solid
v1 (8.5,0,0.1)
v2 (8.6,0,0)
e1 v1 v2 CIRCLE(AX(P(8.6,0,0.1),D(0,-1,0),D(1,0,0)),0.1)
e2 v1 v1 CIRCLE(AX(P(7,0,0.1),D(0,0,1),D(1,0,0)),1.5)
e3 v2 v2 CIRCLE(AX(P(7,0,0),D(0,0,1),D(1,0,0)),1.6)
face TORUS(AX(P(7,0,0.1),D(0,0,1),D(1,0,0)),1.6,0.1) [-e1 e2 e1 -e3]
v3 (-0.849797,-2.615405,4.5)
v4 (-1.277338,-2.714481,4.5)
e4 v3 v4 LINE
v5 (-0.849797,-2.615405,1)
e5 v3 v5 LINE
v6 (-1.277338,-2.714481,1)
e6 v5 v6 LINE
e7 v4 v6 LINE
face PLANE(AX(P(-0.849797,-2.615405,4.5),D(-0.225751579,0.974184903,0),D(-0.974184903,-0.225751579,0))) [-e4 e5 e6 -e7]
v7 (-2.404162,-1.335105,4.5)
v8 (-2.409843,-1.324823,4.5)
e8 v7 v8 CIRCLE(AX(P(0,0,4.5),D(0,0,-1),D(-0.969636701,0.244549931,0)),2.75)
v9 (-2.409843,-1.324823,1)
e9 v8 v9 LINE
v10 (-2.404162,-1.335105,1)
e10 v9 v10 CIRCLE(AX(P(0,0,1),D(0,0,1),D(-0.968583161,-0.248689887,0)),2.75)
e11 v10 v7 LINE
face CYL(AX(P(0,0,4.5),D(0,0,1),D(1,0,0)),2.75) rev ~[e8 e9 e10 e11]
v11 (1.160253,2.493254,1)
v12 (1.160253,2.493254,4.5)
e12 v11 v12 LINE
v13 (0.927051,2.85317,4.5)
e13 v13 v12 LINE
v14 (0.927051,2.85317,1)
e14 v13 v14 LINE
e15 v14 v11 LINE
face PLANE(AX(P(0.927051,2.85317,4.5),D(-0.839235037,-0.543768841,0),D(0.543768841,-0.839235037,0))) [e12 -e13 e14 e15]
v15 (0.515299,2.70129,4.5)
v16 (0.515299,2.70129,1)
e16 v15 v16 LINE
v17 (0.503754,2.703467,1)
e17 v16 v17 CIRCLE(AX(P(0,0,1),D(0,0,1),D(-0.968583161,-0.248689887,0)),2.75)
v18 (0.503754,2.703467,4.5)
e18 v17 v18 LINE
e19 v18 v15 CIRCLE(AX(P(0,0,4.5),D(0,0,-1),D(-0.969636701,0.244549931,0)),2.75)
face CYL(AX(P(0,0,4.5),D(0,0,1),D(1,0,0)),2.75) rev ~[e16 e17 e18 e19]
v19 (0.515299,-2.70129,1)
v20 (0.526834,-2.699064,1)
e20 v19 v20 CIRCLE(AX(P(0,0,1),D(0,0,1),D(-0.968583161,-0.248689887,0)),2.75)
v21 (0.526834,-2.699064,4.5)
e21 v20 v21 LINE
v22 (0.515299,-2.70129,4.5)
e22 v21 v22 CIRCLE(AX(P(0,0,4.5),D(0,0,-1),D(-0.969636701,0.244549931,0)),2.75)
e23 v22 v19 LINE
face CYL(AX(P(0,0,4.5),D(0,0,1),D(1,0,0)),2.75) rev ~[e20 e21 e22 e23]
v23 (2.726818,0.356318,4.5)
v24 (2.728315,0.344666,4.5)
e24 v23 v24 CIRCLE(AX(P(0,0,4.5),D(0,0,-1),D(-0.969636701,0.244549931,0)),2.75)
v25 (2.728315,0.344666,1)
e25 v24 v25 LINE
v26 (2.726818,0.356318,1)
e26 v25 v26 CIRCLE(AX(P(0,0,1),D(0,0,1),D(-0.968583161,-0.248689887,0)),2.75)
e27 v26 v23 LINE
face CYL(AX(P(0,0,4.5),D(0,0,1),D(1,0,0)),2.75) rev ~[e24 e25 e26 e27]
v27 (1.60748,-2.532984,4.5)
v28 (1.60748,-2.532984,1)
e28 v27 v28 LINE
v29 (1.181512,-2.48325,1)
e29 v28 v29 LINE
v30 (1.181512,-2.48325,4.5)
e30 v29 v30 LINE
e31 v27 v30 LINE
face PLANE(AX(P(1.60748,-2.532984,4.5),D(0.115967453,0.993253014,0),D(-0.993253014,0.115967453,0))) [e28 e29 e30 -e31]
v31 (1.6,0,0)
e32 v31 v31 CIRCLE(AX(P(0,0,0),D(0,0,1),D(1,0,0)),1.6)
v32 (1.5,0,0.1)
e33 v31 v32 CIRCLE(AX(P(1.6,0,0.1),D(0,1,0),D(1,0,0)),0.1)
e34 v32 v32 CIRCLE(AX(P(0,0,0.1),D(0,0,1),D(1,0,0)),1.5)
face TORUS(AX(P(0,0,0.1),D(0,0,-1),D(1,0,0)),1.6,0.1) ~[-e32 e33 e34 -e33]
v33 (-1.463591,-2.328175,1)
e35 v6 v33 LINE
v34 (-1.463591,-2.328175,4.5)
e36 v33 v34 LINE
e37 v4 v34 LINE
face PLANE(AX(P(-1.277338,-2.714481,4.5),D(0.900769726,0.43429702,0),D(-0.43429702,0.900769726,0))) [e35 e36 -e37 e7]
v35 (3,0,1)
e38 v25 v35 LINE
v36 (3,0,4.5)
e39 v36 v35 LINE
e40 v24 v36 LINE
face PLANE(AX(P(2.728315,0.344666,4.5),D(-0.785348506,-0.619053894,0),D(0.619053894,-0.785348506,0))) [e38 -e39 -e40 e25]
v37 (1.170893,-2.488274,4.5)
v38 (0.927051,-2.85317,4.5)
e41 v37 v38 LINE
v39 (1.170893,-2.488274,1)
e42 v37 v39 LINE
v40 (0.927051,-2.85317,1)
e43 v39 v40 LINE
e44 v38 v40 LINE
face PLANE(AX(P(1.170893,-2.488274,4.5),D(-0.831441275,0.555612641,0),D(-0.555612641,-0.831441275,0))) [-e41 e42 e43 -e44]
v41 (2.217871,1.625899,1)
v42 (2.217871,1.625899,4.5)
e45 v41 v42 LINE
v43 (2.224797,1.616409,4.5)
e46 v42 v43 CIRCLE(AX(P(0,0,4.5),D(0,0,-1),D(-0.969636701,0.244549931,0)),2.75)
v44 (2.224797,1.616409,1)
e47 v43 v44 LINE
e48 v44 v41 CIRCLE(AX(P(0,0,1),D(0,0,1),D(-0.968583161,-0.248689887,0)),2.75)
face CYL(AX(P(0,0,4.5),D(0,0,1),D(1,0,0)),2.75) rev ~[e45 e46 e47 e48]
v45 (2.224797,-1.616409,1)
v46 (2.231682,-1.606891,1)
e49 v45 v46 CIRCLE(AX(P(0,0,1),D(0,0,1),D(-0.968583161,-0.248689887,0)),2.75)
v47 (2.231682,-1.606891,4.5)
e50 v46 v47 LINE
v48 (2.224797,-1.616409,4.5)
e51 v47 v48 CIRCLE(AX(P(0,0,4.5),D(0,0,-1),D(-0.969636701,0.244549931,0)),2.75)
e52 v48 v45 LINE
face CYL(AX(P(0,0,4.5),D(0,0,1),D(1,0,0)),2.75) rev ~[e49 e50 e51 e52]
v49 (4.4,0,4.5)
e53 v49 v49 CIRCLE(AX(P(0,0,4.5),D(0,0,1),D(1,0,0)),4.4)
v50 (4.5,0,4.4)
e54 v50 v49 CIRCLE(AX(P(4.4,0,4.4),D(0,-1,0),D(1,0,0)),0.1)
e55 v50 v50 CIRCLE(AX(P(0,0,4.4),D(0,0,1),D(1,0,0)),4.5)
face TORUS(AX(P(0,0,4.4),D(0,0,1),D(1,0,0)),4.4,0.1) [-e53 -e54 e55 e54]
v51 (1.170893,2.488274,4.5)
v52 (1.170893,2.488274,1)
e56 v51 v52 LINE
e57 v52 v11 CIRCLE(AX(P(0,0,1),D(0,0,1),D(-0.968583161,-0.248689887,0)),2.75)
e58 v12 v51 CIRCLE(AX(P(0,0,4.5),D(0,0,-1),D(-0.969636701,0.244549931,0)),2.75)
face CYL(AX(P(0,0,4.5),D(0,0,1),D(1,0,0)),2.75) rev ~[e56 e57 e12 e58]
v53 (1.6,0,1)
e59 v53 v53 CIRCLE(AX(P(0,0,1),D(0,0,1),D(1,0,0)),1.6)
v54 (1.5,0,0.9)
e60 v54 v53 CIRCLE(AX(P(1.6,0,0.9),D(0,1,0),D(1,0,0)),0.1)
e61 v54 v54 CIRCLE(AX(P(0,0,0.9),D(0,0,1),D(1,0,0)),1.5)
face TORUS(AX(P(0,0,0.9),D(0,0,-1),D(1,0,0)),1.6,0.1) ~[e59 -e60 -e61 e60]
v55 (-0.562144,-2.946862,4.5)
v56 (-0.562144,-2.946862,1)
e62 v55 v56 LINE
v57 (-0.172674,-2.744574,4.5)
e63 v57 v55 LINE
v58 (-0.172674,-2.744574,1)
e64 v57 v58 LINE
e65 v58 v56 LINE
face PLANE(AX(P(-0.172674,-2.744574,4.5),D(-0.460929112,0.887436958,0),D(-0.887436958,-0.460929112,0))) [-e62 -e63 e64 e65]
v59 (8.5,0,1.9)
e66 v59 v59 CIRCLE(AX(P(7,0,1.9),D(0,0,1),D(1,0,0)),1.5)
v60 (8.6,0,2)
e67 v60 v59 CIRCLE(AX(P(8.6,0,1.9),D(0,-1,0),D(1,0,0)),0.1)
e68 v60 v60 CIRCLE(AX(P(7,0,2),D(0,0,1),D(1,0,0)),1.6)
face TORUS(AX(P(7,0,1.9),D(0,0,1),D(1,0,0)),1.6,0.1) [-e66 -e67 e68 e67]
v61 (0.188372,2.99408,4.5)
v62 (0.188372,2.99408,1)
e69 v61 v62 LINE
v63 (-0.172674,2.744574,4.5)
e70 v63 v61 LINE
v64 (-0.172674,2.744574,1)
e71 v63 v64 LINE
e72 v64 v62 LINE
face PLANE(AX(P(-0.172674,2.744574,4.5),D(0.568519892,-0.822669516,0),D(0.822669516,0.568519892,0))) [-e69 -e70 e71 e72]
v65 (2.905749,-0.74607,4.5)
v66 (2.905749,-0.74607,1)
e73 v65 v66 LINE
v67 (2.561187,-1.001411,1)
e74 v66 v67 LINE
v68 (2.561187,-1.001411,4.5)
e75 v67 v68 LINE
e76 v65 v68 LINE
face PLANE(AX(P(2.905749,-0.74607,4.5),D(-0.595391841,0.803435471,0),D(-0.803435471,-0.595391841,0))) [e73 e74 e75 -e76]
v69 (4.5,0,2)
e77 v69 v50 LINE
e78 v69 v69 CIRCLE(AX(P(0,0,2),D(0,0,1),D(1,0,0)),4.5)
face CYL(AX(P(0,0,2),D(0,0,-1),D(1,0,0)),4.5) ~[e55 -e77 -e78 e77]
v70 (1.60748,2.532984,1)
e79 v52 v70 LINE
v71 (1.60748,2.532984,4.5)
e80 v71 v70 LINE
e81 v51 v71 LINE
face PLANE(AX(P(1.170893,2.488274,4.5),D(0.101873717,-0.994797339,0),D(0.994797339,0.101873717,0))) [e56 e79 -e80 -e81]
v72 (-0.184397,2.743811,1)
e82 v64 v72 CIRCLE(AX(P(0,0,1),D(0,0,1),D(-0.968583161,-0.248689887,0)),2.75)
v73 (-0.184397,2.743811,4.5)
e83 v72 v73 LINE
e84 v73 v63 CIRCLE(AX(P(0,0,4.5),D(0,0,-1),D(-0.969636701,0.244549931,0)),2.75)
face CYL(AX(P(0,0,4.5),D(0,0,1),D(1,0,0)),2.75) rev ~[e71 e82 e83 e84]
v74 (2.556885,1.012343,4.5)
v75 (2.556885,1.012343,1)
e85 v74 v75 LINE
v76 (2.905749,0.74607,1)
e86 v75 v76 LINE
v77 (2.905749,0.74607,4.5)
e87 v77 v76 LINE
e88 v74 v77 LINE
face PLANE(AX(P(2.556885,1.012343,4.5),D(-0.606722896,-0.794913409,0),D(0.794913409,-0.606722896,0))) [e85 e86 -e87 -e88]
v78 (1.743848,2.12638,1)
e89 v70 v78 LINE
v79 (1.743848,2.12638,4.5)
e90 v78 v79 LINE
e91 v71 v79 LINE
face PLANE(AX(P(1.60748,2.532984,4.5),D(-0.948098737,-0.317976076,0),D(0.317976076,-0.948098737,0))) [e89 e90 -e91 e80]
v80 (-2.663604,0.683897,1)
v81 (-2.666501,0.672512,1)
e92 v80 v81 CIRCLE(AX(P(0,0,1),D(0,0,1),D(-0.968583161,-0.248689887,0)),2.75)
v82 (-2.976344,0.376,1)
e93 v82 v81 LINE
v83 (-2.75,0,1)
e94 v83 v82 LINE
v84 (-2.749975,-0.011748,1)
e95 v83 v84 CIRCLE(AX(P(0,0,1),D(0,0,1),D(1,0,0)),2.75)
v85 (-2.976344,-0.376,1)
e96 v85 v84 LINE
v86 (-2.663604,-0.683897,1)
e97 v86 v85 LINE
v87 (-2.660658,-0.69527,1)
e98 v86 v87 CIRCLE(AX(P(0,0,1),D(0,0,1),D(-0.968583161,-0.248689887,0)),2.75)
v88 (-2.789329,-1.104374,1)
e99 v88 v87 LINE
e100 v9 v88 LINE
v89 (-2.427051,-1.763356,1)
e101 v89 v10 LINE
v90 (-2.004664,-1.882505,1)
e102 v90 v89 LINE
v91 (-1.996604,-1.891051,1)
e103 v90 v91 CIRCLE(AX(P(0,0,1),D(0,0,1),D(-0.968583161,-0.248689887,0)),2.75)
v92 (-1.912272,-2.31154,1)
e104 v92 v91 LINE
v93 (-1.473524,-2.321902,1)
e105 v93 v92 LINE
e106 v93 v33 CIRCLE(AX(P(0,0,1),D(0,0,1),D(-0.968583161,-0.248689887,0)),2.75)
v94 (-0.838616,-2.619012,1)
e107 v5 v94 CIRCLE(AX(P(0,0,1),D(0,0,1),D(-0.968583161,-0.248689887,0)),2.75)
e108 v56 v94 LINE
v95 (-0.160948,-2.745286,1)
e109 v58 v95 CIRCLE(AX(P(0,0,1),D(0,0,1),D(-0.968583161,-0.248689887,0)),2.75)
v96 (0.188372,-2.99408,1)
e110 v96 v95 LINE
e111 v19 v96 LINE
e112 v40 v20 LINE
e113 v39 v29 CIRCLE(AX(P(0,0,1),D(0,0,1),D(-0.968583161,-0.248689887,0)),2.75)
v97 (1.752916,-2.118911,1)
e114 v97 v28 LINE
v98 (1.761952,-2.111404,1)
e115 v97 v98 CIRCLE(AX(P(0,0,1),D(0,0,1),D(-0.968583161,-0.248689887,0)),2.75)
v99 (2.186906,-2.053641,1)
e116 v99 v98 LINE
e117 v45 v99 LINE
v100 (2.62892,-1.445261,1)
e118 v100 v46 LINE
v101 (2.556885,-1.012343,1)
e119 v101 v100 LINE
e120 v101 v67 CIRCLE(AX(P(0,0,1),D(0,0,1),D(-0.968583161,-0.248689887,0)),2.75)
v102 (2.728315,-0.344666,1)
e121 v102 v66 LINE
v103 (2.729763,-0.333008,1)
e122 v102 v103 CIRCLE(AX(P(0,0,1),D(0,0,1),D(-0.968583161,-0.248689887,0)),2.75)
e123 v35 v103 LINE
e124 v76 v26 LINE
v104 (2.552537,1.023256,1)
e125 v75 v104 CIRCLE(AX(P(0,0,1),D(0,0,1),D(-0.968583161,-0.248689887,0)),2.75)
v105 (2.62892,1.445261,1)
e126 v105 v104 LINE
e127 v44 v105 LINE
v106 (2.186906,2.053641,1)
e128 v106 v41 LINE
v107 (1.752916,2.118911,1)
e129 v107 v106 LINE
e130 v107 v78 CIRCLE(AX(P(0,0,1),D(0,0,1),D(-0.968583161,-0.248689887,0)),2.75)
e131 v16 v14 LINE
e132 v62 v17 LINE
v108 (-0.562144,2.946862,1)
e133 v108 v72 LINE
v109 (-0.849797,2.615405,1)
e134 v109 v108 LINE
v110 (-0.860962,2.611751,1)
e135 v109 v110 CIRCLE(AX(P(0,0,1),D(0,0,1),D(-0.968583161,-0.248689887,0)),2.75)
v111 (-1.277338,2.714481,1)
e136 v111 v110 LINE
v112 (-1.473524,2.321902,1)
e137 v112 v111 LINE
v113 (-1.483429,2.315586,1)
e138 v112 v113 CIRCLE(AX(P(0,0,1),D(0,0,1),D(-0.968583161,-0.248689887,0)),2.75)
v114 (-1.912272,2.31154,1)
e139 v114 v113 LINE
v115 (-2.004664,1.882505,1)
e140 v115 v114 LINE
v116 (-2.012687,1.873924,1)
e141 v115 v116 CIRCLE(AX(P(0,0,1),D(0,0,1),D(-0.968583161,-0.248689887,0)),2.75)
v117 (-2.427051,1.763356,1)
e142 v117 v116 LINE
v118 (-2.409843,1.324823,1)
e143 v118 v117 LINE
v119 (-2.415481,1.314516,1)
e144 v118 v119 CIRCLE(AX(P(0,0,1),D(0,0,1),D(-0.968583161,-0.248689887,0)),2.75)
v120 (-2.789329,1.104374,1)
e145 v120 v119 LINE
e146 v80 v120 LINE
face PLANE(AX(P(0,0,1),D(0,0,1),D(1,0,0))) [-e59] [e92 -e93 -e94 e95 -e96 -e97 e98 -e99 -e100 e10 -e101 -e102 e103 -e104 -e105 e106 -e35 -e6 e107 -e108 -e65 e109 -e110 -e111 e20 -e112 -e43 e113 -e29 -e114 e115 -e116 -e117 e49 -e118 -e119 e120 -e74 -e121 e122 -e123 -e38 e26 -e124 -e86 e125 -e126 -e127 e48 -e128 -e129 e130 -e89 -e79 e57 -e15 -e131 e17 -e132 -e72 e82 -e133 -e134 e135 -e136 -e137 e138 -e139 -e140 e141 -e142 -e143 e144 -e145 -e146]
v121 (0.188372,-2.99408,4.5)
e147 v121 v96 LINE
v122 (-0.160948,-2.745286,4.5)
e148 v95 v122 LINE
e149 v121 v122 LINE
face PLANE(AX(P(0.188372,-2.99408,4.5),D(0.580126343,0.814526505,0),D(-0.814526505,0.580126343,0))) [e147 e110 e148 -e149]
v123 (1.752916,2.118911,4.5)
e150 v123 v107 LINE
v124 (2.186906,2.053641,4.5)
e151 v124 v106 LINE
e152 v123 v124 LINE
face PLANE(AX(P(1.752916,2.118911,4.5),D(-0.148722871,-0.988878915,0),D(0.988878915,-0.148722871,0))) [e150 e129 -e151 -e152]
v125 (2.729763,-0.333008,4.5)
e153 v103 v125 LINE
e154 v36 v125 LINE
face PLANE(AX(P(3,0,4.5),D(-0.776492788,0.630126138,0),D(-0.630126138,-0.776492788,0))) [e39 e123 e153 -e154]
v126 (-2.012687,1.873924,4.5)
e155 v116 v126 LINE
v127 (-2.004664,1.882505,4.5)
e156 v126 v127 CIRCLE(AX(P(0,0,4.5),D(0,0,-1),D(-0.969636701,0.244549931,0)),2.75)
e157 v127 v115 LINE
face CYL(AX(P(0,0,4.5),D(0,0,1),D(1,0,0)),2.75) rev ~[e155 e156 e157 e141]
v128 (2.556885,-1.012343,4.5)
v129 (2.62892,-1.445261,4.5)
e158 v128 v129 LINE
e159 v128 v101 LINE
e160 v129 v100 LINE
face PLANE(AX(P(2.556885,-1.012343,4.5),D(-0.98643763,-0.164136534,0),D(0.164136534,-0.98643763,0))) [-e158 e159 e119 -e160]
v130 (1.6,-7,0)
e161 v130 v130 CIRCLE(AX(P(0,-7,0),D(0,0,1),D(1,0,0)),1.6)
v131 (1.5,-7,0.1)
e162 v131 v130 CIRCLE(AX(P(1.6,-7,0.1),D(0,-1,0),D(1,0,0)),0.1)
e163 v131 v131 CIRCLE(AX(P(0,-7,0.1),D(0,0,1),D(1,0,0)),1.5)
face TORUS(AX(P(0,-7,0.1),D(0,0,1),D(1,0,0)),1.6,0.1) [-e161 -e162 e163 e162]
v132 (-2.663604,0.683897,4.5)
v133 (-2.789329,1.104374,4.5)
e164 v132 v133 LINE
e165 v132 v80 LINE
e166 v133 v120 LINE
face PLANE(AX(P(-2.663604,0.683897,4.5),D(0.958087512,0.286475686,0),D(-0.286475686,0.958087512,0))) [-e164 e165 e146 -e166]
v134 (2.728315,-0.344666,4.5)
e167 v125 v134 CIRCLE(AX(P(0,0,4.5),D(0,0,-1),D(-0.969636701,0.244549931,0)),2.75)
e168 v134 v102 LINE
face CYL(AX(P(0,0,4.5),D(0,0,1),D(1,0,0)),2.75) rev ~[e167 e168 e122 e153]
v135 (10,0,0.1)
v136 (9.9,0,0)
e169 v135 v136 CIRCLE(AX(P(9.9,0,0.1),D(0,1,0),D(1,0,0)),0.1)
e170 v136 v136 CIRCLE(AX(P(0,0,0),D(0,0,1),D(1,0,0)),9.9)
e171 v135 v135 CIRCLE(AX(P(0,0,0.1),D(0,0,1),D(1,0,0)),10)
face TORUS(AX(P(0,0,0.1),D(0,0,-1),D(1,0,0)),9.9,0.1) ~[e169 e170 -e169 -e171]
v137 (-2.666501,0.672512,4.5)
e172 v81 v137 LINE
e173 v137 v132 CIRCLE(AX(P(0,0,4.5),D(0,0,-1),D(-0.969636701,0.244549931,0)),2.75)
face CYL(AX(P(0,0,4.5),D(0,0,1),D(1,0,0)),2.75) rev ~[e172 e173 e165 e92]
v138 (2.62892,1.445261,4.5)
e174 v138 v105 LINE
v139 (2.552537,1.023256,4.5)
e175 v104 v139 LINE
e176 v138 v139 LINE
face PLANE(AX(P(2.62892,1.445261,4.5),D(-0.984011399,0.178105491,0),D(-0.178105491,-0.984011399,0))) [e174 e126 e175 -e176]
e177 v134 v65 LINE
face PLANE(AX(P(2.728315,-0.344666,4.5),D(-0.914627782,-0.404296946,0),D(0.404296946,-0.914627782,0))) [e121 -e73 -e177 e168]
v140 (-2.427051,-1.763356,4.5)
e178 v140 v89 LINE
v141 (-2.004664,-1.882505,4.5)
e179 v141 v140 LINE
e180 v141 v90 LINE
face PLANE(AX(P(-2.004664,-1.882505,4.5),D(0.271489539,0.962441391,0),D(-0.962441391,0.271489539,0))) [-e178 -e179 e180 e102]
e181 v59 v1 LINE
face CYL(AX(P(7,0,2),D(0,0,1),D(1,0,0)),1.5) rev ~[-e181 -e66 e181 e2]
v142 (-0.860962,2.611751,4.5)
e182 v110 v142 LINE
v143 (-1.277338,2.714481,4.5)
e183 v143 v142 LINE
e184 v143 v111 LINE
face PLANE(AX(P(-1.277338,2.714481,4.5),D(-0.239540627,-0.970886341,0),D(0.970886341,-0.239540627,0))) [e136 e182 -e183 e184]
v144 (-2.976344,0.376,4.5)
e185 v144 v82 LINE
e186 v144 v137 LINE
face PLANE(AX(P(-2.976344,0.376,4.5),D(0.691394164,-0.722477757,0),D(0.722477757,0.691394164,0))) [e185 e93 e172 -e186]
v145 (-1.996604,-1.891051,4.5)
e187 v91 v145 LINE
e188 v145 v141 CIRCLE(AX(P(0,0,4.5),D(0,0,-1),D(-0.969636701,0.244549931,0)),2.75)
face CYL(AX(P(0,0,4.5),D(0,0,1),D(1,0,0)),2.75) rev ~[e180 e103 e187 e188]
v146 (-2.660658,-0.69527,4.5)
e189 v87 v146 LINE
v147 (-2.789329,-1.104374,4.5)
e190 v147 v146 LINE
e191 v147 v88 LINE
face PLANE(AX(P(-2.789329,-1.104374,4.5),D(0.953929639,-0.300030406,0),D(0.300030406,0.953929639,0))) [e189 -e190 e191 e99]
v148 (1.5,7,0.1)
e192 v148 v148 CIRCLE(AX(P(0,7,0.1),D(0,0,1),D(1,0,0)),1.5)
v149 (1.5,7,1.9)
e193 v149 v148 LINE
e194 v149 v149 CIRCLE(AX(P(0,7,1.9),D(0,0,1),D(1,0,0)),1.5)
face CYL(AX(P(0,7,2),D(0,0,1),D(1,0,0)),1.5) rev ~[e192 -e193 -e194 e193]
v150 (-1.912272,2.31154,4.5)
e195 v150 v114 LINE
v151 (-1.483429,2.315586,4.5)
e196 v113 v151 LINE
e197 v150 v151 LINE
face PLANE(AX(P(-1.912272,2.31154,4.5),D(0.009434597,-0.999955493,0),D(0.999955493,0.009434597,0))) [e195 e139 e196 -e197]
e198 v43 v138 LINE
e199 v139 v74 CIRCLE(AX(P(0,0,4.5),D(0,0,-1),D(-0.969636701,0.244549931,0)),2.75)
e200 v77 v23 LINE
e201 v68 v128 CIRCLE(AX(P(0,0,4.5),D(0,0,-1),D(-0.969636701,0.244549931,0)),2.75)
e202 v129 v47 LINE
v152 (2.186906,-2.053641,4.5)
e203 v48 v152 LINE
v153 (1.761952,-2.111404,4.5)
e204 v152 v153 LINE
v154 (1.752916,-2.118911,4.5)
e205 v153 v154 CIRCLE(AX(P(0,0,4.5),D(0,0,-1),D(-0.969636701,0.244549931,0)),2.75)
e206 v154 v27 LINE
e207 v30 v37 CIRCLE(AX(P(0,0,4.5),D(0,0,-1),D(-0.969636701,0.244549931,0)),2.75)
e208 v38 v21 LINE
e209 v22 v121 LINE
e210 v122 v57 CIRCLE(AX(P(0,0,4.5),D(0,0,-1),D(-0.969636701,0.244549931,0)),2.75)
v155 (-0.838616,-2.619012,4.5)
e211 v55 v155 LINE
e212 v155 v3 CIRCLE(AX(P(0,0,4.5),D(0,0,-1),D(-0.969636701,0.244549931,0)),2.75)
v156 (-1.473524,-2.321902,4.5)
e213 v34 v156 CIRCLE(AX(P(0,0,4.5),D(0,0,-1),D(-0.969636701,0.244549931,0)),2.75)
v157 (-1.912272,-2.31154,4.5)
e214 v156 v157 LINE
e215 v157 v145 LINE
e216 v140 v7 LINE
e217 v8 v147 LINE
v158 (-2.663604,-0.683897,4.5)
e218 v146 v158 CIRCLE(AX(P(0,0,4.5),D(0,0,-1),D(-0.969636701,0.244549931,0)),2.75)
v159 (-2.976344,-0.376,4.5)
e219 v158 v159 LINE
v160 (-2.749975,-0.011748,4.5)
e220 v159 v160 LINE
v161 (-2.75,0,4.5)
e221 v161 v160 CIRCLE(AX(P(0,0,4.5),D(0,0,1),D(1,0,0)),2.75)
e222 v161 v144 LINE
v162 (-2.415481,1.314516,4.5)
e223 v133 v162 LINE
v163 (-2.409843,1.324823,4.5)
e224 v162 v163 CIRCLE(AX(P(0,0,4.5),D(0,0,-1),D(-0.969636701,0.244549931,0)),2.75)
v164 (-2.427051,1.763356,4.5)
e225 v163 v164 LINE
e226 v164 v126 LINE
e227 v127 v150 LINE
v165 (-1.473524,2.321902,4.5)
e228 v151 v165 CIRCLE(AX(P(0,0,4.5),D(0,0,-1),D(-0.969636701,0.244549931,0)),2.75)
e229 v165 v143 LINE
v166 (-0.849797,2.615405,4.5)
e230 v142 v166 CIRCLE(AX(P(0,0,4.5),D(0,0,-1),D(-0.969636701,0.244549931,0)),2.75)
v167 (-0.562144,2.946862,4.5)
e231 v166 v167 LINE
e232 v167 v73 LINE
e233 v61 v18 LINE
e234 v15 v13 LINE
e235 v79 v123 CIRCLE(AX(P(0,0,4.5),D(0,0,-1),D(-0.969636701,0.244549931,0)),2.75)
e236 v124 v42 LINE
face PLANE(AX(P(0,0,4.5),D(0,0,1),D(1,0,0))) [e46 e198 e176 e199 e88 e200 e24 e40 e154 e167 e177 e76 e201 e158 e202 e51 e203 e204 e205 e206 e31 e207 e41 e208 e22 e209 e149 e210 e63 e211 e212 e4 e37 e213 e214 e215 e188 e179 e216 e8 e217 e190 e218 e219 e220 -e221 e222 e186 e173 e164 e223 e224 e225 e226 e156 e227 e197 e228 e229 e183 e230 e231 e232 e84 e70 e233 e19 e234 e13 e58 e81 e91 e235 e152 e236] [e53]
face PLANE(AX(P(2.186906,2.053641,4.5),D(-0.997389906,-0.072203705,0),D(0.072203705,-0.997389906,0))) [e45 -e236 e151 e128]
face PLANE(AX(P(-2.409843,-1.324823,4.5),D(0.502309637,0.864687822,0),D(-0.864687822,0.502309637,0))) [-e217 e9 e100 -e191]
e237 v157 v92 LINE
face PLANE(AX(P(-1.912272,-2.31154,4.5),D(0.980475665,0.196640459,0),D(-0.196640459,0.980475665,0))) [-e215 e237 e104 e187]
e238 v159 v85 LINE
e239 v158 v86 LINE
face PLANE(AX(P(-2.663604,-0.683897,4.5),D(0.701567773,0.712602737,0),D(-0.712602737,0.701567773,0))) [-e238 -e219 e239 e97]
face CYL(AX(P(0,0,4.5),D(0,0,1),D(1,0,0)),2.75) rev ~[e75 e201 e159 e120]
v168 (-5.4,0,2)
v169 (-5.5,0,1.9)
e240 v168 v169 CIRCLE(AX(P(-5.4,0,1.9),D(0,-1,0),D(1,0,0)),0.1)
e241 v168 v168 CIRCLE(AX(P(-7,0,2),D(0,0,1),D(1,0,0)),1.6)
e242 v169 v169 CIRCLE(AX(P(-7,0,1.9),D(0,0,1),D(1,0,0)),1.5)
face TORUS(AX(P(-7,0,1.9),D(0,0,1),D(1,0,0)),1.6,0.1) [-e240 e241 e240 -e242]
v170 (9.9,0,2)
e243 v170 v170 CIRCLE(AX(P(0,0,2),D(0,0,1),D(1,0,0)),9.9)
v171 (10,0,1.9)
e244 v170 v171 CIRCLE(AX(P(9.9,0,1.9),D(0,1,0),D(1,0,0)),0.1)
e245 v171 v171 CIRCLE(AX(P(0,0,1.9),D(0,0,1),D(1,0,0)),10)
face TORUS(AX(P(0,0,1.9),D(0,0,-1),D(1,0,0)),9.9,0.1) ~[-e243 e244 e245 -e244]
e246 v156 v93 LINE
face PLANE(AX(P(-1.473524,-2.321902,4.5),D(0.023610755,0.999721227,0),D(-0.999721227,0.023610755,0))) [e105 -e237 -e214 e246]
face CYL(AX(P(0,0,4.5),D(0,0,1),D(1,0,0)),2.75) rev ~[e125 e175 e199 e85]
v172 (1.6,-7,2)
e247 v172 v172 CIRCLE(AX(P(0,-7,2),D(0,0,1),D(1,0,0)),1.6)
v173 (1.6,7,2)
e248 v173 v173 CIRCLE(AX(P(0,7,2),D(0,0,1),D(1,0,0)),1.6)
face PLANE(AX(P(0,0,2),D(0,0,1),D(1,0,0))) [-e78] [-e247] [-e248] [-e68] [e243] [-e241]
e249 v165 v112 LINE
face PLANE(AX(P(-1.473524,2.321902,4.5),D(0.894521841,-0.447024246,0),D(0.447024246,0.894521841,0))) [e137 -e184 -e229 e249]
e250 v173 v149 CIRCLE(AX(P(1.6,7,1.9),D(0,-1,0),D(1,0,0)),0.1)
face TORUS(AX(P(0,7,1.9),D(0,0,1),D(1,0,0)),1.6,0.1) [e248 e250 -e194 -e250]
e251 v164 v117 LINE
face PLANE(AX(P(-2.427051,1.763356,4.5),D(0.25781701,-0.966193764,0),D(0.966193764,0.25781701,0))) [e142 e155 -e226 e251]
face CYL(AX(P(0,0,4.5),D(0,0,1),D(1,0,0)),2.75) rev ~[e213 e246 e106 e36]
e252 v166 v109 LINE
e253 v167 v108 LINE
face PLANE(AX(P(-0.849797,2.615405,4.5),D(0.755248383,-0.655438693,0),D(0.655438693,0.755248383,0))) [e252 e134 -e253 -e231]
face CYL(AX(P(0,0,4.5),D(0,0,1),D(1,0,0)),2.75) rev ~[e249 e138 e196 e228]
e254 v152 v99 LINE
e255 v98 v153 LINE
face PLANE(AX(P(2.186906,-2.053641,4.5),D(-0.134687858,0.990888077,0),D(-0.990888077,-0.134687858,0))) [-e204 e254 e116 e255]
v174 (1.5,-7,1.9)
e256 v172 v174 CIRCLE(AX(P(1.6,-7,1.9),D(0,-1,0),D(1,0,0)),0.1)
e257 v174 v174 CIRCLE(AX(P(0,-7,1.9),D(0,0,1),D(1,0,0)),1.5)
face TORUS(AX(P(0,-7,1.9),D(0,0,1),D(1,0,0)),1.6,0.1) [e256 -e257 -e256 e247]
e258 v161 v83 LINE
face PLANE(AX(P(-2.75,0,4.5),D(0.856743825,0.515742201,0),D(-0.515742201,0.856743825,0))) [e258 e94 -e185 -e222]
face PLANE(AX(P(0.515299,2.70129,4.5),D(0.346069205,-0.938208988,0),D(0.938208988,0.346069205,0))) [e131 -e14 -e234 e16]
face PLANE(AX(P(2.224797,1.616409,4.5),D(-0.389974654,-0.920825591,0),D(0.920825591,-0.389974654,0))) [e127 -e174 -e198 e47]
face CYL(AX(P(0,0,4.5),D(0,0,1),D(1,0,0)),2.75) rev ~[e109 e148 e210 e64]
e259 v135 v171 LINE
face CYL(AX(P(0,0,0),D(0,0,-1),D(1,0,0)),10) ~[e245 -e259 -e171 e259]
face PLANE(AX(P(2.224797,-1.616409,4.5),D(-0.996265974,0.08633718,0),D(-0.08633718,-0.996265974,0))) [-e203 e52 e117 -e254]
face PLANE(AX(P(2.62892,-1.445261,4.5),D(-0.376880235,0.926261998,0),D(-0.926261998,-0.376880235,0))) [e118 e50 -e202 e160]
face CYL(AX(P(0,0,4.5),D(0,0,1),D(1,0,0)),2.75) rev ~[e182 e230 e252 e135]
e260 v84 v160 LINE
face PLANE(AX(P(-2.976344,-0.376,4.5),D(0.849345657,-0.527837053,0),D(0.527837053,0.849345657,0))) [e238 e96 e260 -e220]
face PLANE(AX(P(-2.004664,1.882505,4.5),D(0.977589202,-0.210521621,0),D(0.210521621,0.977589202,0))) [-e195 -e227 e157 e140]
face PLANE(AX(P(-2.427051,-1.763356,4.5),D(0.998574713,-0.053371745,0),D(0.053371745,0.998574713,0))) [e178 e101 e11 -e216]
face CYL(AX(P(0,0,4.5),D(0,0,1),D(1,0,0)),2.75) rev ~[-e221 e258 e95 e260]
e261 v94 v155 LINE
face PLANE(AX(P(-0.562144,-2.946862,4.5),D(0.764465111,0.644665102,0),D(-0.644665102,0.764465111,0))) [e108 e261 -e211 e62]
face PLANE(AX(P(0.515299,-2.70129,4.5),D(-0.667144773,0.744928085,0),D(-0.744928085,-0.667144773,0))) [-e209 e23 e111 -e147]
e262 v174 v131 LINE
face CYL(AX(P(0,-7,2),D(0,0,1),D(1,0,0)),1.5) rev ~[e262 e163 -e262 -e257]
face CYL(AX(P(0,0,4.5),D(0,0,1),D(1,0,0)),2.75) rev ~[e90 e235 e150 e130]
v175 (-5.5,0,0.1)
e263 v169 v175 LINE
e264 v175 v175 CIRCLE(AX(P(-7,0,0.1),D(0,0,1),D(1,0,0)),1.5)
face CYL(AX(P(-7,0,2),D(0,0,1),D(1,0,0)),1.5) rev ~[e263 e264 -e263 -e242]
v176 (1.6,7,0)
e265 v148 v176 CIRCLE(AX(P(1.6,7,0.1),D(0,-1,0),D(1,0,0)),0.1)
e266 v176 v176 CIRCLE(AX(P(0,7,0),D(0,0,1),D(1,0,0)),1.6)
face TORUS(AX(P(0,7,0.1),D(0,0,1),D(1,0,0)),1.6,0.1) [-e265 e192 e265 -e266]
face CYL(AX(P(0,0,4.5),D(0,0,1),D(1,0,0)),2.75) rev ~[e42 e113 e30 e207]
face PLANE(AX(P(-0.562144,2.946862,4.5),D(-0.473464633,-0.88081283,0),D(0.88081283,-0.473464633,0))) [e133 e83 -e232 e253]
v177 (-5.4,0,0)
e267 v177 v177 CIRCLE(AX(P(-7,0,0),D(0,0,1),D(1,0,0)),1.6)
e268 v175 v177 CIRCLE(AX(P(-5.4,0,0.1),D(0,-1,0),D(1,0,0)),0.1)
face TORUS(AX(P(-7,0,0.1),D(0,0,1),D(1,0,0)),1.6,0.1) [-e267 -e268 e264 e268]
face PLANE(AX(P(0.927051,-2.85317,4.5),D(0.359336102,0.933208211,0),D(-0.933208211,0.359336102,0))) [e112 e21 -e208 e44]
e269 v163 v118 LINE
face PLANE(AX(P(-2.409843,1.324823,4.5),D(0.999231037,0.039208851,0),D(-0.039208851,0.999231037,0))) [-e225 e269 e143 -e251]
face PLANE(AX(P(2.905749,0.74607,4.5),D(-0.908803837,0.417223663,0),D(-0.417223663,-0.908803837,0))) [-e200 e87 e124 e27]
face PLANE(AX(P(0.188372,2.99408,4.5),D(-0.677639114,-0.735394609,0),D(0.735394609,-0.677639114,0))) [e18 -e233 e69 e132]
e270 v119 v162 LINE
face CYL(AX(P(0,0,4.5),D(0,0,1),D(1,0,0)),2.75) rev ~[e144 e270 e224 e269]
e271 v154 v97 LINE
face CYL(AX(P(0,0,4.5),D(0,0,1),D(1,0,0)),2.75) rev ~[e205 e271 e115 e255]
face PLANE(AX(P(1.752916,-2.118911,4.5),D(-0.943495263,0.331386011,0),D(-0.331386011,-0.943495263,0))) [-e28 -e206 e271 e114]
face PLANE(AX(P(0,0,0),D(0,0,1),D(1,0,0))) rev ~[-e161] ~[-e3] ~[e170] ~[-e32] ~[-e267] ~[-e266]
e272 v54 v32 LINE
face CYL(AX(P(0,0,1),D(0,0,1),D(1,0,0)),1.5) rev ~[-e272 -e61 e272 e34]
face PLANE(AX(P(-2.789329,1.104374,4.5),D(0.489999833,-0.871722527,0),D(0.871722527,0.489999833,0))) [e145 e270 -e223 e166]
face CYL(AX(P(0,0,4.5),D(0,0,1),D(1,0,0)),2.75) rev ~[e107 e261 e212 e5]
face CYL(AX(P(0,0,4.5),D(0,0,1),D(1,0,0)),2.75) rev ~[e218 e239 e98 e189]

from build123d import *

# Parameters (mm, degrees)
SKETCH1_R           = 10
BOSS_EXTRUDE1_DEPTH = 2
SKETCH2_R           = 4.5
BOSS_EXTRUDE2_DEPTH = 2.5
SKETCH3_R           = 2.75
CUT_EXTRUDE1_DEPTH  = 3.5
SKETCH4_R           = 1.5
CUT_EXTRUDE2_DEPTH  = 2
CUT_EXTRUDE3_DEPTH  = 3.5
CIRPATTERN1_COUNT   = 25
SKETCH6_R           = 1.5
CUT_EXTRUDE4_DEPTH  = 3
FILLET1_R           = 0.1
FILLET2_R           = 0.1


with BuildPart() as part:
    # Sketch1 → Boss-Extrude1 (new body)
    with BuildSketch(Plane.XY):
        Circle(SKETCH1_R)
    extrude(amount=BOSS_EXTRUDE1_DEPTH)

    # Sketch2 → Boss-Extrude2 (add)
    with BuildSketch(Plane.XY.offset(2)):
        Circle(SKETCH2_R)
    extrude(amount=BOSS_EXTRUDE2_DEPTH)

    # Sketch3 → Cut-Extrude1 (cut)
    with BuildSketch(Plane.XY.offset(4.5)):
        Circle(SKETCH3_R)
    extrude(amount=-CUT_EXTRUDE1_DEPTH, mode=Mode.SUBTRACT)

    # Sketch4 → Cut-Extrude2 (cut, through all)
    with BuildSketch(Plane.XY.offset(1)):
        Circle(SKETCH4_R)
    extrude(amount=-CUT_EXTRUDE2_DEPTH, mode=Mode.SUBTRACT)

    # Sketch5 → Cut-Extrude3 (cut)
    with BuildSketch(Plane.XY.offset(4.5)):
        Polygon((-2.656507983, 0.682075321), (-2.682344512, 0.606240809), (-2.75, 0), (-2.976344104, 0.375999701), align=None)
    cut_extrude3 = extrude(amount=-CUT_EXTRUDE3_DEPTH, mode=Mode.SUBTRACT)

    # CirPattern1: Cut-Extrude3 ×25 about axis
    cirpattern1_axis = Axis((0, 0, 0), (0, 0, 1))
    for i in range(1, CIRPATTERN1_COUNT):
        add(cut_extrude3.rotate(cirpattern1_axis, i * 360 / CIRPATTERN1_COUNT), mode=Mode.SUBTRACT)

    # Sketch6 → Cut-Extrude4 (cut, through all)
    with BuildSketch(Plane.XY.offset(2)):
        with Locations((-7, 0)):
            Circle(SKETCH6_R)
        with Locations((7, 0)):
            Circle(SKETCH6_R)
        with Locations((0, 7)):
            Circle(SKETCH6_R)
        with Locations((0, -7)):
            Circle(SKETCH6_R)
    extrude(amount=-CUT_EXTRUDE4_DEPTH, mode=Mode.SUBTRACT)

    # Fillet1
    fillet1_edges = [part.edges().sort_by_distance(p)[0] for p in [
        (5.5, 0, 2),
    ]]
    fillet(fillet1_edges, radius=FILLET1_R)

    # Fillet2
    fillet2_edges = [part.edges().sort_by_distance(p)[0] for p in [
        (-1.5, 0, 0),
        (-1.5, 0, 1),
        (-10, 0, 0),
        (-8.5, 0, 0),
        (-8.5, 0, 2),
        (-10, 0, 2),
        (5.5, 0, 0),
        (-1.5, 7, 0),
        (-1.5, 7, 2),
        (-1.5, -7, 0),
        (-1.5, -7, 2),
        (-4.5, 0, 4.5),
    ]]
    fillet(fillet2_edges, radius=FILLET2_R)


solid = part.part
